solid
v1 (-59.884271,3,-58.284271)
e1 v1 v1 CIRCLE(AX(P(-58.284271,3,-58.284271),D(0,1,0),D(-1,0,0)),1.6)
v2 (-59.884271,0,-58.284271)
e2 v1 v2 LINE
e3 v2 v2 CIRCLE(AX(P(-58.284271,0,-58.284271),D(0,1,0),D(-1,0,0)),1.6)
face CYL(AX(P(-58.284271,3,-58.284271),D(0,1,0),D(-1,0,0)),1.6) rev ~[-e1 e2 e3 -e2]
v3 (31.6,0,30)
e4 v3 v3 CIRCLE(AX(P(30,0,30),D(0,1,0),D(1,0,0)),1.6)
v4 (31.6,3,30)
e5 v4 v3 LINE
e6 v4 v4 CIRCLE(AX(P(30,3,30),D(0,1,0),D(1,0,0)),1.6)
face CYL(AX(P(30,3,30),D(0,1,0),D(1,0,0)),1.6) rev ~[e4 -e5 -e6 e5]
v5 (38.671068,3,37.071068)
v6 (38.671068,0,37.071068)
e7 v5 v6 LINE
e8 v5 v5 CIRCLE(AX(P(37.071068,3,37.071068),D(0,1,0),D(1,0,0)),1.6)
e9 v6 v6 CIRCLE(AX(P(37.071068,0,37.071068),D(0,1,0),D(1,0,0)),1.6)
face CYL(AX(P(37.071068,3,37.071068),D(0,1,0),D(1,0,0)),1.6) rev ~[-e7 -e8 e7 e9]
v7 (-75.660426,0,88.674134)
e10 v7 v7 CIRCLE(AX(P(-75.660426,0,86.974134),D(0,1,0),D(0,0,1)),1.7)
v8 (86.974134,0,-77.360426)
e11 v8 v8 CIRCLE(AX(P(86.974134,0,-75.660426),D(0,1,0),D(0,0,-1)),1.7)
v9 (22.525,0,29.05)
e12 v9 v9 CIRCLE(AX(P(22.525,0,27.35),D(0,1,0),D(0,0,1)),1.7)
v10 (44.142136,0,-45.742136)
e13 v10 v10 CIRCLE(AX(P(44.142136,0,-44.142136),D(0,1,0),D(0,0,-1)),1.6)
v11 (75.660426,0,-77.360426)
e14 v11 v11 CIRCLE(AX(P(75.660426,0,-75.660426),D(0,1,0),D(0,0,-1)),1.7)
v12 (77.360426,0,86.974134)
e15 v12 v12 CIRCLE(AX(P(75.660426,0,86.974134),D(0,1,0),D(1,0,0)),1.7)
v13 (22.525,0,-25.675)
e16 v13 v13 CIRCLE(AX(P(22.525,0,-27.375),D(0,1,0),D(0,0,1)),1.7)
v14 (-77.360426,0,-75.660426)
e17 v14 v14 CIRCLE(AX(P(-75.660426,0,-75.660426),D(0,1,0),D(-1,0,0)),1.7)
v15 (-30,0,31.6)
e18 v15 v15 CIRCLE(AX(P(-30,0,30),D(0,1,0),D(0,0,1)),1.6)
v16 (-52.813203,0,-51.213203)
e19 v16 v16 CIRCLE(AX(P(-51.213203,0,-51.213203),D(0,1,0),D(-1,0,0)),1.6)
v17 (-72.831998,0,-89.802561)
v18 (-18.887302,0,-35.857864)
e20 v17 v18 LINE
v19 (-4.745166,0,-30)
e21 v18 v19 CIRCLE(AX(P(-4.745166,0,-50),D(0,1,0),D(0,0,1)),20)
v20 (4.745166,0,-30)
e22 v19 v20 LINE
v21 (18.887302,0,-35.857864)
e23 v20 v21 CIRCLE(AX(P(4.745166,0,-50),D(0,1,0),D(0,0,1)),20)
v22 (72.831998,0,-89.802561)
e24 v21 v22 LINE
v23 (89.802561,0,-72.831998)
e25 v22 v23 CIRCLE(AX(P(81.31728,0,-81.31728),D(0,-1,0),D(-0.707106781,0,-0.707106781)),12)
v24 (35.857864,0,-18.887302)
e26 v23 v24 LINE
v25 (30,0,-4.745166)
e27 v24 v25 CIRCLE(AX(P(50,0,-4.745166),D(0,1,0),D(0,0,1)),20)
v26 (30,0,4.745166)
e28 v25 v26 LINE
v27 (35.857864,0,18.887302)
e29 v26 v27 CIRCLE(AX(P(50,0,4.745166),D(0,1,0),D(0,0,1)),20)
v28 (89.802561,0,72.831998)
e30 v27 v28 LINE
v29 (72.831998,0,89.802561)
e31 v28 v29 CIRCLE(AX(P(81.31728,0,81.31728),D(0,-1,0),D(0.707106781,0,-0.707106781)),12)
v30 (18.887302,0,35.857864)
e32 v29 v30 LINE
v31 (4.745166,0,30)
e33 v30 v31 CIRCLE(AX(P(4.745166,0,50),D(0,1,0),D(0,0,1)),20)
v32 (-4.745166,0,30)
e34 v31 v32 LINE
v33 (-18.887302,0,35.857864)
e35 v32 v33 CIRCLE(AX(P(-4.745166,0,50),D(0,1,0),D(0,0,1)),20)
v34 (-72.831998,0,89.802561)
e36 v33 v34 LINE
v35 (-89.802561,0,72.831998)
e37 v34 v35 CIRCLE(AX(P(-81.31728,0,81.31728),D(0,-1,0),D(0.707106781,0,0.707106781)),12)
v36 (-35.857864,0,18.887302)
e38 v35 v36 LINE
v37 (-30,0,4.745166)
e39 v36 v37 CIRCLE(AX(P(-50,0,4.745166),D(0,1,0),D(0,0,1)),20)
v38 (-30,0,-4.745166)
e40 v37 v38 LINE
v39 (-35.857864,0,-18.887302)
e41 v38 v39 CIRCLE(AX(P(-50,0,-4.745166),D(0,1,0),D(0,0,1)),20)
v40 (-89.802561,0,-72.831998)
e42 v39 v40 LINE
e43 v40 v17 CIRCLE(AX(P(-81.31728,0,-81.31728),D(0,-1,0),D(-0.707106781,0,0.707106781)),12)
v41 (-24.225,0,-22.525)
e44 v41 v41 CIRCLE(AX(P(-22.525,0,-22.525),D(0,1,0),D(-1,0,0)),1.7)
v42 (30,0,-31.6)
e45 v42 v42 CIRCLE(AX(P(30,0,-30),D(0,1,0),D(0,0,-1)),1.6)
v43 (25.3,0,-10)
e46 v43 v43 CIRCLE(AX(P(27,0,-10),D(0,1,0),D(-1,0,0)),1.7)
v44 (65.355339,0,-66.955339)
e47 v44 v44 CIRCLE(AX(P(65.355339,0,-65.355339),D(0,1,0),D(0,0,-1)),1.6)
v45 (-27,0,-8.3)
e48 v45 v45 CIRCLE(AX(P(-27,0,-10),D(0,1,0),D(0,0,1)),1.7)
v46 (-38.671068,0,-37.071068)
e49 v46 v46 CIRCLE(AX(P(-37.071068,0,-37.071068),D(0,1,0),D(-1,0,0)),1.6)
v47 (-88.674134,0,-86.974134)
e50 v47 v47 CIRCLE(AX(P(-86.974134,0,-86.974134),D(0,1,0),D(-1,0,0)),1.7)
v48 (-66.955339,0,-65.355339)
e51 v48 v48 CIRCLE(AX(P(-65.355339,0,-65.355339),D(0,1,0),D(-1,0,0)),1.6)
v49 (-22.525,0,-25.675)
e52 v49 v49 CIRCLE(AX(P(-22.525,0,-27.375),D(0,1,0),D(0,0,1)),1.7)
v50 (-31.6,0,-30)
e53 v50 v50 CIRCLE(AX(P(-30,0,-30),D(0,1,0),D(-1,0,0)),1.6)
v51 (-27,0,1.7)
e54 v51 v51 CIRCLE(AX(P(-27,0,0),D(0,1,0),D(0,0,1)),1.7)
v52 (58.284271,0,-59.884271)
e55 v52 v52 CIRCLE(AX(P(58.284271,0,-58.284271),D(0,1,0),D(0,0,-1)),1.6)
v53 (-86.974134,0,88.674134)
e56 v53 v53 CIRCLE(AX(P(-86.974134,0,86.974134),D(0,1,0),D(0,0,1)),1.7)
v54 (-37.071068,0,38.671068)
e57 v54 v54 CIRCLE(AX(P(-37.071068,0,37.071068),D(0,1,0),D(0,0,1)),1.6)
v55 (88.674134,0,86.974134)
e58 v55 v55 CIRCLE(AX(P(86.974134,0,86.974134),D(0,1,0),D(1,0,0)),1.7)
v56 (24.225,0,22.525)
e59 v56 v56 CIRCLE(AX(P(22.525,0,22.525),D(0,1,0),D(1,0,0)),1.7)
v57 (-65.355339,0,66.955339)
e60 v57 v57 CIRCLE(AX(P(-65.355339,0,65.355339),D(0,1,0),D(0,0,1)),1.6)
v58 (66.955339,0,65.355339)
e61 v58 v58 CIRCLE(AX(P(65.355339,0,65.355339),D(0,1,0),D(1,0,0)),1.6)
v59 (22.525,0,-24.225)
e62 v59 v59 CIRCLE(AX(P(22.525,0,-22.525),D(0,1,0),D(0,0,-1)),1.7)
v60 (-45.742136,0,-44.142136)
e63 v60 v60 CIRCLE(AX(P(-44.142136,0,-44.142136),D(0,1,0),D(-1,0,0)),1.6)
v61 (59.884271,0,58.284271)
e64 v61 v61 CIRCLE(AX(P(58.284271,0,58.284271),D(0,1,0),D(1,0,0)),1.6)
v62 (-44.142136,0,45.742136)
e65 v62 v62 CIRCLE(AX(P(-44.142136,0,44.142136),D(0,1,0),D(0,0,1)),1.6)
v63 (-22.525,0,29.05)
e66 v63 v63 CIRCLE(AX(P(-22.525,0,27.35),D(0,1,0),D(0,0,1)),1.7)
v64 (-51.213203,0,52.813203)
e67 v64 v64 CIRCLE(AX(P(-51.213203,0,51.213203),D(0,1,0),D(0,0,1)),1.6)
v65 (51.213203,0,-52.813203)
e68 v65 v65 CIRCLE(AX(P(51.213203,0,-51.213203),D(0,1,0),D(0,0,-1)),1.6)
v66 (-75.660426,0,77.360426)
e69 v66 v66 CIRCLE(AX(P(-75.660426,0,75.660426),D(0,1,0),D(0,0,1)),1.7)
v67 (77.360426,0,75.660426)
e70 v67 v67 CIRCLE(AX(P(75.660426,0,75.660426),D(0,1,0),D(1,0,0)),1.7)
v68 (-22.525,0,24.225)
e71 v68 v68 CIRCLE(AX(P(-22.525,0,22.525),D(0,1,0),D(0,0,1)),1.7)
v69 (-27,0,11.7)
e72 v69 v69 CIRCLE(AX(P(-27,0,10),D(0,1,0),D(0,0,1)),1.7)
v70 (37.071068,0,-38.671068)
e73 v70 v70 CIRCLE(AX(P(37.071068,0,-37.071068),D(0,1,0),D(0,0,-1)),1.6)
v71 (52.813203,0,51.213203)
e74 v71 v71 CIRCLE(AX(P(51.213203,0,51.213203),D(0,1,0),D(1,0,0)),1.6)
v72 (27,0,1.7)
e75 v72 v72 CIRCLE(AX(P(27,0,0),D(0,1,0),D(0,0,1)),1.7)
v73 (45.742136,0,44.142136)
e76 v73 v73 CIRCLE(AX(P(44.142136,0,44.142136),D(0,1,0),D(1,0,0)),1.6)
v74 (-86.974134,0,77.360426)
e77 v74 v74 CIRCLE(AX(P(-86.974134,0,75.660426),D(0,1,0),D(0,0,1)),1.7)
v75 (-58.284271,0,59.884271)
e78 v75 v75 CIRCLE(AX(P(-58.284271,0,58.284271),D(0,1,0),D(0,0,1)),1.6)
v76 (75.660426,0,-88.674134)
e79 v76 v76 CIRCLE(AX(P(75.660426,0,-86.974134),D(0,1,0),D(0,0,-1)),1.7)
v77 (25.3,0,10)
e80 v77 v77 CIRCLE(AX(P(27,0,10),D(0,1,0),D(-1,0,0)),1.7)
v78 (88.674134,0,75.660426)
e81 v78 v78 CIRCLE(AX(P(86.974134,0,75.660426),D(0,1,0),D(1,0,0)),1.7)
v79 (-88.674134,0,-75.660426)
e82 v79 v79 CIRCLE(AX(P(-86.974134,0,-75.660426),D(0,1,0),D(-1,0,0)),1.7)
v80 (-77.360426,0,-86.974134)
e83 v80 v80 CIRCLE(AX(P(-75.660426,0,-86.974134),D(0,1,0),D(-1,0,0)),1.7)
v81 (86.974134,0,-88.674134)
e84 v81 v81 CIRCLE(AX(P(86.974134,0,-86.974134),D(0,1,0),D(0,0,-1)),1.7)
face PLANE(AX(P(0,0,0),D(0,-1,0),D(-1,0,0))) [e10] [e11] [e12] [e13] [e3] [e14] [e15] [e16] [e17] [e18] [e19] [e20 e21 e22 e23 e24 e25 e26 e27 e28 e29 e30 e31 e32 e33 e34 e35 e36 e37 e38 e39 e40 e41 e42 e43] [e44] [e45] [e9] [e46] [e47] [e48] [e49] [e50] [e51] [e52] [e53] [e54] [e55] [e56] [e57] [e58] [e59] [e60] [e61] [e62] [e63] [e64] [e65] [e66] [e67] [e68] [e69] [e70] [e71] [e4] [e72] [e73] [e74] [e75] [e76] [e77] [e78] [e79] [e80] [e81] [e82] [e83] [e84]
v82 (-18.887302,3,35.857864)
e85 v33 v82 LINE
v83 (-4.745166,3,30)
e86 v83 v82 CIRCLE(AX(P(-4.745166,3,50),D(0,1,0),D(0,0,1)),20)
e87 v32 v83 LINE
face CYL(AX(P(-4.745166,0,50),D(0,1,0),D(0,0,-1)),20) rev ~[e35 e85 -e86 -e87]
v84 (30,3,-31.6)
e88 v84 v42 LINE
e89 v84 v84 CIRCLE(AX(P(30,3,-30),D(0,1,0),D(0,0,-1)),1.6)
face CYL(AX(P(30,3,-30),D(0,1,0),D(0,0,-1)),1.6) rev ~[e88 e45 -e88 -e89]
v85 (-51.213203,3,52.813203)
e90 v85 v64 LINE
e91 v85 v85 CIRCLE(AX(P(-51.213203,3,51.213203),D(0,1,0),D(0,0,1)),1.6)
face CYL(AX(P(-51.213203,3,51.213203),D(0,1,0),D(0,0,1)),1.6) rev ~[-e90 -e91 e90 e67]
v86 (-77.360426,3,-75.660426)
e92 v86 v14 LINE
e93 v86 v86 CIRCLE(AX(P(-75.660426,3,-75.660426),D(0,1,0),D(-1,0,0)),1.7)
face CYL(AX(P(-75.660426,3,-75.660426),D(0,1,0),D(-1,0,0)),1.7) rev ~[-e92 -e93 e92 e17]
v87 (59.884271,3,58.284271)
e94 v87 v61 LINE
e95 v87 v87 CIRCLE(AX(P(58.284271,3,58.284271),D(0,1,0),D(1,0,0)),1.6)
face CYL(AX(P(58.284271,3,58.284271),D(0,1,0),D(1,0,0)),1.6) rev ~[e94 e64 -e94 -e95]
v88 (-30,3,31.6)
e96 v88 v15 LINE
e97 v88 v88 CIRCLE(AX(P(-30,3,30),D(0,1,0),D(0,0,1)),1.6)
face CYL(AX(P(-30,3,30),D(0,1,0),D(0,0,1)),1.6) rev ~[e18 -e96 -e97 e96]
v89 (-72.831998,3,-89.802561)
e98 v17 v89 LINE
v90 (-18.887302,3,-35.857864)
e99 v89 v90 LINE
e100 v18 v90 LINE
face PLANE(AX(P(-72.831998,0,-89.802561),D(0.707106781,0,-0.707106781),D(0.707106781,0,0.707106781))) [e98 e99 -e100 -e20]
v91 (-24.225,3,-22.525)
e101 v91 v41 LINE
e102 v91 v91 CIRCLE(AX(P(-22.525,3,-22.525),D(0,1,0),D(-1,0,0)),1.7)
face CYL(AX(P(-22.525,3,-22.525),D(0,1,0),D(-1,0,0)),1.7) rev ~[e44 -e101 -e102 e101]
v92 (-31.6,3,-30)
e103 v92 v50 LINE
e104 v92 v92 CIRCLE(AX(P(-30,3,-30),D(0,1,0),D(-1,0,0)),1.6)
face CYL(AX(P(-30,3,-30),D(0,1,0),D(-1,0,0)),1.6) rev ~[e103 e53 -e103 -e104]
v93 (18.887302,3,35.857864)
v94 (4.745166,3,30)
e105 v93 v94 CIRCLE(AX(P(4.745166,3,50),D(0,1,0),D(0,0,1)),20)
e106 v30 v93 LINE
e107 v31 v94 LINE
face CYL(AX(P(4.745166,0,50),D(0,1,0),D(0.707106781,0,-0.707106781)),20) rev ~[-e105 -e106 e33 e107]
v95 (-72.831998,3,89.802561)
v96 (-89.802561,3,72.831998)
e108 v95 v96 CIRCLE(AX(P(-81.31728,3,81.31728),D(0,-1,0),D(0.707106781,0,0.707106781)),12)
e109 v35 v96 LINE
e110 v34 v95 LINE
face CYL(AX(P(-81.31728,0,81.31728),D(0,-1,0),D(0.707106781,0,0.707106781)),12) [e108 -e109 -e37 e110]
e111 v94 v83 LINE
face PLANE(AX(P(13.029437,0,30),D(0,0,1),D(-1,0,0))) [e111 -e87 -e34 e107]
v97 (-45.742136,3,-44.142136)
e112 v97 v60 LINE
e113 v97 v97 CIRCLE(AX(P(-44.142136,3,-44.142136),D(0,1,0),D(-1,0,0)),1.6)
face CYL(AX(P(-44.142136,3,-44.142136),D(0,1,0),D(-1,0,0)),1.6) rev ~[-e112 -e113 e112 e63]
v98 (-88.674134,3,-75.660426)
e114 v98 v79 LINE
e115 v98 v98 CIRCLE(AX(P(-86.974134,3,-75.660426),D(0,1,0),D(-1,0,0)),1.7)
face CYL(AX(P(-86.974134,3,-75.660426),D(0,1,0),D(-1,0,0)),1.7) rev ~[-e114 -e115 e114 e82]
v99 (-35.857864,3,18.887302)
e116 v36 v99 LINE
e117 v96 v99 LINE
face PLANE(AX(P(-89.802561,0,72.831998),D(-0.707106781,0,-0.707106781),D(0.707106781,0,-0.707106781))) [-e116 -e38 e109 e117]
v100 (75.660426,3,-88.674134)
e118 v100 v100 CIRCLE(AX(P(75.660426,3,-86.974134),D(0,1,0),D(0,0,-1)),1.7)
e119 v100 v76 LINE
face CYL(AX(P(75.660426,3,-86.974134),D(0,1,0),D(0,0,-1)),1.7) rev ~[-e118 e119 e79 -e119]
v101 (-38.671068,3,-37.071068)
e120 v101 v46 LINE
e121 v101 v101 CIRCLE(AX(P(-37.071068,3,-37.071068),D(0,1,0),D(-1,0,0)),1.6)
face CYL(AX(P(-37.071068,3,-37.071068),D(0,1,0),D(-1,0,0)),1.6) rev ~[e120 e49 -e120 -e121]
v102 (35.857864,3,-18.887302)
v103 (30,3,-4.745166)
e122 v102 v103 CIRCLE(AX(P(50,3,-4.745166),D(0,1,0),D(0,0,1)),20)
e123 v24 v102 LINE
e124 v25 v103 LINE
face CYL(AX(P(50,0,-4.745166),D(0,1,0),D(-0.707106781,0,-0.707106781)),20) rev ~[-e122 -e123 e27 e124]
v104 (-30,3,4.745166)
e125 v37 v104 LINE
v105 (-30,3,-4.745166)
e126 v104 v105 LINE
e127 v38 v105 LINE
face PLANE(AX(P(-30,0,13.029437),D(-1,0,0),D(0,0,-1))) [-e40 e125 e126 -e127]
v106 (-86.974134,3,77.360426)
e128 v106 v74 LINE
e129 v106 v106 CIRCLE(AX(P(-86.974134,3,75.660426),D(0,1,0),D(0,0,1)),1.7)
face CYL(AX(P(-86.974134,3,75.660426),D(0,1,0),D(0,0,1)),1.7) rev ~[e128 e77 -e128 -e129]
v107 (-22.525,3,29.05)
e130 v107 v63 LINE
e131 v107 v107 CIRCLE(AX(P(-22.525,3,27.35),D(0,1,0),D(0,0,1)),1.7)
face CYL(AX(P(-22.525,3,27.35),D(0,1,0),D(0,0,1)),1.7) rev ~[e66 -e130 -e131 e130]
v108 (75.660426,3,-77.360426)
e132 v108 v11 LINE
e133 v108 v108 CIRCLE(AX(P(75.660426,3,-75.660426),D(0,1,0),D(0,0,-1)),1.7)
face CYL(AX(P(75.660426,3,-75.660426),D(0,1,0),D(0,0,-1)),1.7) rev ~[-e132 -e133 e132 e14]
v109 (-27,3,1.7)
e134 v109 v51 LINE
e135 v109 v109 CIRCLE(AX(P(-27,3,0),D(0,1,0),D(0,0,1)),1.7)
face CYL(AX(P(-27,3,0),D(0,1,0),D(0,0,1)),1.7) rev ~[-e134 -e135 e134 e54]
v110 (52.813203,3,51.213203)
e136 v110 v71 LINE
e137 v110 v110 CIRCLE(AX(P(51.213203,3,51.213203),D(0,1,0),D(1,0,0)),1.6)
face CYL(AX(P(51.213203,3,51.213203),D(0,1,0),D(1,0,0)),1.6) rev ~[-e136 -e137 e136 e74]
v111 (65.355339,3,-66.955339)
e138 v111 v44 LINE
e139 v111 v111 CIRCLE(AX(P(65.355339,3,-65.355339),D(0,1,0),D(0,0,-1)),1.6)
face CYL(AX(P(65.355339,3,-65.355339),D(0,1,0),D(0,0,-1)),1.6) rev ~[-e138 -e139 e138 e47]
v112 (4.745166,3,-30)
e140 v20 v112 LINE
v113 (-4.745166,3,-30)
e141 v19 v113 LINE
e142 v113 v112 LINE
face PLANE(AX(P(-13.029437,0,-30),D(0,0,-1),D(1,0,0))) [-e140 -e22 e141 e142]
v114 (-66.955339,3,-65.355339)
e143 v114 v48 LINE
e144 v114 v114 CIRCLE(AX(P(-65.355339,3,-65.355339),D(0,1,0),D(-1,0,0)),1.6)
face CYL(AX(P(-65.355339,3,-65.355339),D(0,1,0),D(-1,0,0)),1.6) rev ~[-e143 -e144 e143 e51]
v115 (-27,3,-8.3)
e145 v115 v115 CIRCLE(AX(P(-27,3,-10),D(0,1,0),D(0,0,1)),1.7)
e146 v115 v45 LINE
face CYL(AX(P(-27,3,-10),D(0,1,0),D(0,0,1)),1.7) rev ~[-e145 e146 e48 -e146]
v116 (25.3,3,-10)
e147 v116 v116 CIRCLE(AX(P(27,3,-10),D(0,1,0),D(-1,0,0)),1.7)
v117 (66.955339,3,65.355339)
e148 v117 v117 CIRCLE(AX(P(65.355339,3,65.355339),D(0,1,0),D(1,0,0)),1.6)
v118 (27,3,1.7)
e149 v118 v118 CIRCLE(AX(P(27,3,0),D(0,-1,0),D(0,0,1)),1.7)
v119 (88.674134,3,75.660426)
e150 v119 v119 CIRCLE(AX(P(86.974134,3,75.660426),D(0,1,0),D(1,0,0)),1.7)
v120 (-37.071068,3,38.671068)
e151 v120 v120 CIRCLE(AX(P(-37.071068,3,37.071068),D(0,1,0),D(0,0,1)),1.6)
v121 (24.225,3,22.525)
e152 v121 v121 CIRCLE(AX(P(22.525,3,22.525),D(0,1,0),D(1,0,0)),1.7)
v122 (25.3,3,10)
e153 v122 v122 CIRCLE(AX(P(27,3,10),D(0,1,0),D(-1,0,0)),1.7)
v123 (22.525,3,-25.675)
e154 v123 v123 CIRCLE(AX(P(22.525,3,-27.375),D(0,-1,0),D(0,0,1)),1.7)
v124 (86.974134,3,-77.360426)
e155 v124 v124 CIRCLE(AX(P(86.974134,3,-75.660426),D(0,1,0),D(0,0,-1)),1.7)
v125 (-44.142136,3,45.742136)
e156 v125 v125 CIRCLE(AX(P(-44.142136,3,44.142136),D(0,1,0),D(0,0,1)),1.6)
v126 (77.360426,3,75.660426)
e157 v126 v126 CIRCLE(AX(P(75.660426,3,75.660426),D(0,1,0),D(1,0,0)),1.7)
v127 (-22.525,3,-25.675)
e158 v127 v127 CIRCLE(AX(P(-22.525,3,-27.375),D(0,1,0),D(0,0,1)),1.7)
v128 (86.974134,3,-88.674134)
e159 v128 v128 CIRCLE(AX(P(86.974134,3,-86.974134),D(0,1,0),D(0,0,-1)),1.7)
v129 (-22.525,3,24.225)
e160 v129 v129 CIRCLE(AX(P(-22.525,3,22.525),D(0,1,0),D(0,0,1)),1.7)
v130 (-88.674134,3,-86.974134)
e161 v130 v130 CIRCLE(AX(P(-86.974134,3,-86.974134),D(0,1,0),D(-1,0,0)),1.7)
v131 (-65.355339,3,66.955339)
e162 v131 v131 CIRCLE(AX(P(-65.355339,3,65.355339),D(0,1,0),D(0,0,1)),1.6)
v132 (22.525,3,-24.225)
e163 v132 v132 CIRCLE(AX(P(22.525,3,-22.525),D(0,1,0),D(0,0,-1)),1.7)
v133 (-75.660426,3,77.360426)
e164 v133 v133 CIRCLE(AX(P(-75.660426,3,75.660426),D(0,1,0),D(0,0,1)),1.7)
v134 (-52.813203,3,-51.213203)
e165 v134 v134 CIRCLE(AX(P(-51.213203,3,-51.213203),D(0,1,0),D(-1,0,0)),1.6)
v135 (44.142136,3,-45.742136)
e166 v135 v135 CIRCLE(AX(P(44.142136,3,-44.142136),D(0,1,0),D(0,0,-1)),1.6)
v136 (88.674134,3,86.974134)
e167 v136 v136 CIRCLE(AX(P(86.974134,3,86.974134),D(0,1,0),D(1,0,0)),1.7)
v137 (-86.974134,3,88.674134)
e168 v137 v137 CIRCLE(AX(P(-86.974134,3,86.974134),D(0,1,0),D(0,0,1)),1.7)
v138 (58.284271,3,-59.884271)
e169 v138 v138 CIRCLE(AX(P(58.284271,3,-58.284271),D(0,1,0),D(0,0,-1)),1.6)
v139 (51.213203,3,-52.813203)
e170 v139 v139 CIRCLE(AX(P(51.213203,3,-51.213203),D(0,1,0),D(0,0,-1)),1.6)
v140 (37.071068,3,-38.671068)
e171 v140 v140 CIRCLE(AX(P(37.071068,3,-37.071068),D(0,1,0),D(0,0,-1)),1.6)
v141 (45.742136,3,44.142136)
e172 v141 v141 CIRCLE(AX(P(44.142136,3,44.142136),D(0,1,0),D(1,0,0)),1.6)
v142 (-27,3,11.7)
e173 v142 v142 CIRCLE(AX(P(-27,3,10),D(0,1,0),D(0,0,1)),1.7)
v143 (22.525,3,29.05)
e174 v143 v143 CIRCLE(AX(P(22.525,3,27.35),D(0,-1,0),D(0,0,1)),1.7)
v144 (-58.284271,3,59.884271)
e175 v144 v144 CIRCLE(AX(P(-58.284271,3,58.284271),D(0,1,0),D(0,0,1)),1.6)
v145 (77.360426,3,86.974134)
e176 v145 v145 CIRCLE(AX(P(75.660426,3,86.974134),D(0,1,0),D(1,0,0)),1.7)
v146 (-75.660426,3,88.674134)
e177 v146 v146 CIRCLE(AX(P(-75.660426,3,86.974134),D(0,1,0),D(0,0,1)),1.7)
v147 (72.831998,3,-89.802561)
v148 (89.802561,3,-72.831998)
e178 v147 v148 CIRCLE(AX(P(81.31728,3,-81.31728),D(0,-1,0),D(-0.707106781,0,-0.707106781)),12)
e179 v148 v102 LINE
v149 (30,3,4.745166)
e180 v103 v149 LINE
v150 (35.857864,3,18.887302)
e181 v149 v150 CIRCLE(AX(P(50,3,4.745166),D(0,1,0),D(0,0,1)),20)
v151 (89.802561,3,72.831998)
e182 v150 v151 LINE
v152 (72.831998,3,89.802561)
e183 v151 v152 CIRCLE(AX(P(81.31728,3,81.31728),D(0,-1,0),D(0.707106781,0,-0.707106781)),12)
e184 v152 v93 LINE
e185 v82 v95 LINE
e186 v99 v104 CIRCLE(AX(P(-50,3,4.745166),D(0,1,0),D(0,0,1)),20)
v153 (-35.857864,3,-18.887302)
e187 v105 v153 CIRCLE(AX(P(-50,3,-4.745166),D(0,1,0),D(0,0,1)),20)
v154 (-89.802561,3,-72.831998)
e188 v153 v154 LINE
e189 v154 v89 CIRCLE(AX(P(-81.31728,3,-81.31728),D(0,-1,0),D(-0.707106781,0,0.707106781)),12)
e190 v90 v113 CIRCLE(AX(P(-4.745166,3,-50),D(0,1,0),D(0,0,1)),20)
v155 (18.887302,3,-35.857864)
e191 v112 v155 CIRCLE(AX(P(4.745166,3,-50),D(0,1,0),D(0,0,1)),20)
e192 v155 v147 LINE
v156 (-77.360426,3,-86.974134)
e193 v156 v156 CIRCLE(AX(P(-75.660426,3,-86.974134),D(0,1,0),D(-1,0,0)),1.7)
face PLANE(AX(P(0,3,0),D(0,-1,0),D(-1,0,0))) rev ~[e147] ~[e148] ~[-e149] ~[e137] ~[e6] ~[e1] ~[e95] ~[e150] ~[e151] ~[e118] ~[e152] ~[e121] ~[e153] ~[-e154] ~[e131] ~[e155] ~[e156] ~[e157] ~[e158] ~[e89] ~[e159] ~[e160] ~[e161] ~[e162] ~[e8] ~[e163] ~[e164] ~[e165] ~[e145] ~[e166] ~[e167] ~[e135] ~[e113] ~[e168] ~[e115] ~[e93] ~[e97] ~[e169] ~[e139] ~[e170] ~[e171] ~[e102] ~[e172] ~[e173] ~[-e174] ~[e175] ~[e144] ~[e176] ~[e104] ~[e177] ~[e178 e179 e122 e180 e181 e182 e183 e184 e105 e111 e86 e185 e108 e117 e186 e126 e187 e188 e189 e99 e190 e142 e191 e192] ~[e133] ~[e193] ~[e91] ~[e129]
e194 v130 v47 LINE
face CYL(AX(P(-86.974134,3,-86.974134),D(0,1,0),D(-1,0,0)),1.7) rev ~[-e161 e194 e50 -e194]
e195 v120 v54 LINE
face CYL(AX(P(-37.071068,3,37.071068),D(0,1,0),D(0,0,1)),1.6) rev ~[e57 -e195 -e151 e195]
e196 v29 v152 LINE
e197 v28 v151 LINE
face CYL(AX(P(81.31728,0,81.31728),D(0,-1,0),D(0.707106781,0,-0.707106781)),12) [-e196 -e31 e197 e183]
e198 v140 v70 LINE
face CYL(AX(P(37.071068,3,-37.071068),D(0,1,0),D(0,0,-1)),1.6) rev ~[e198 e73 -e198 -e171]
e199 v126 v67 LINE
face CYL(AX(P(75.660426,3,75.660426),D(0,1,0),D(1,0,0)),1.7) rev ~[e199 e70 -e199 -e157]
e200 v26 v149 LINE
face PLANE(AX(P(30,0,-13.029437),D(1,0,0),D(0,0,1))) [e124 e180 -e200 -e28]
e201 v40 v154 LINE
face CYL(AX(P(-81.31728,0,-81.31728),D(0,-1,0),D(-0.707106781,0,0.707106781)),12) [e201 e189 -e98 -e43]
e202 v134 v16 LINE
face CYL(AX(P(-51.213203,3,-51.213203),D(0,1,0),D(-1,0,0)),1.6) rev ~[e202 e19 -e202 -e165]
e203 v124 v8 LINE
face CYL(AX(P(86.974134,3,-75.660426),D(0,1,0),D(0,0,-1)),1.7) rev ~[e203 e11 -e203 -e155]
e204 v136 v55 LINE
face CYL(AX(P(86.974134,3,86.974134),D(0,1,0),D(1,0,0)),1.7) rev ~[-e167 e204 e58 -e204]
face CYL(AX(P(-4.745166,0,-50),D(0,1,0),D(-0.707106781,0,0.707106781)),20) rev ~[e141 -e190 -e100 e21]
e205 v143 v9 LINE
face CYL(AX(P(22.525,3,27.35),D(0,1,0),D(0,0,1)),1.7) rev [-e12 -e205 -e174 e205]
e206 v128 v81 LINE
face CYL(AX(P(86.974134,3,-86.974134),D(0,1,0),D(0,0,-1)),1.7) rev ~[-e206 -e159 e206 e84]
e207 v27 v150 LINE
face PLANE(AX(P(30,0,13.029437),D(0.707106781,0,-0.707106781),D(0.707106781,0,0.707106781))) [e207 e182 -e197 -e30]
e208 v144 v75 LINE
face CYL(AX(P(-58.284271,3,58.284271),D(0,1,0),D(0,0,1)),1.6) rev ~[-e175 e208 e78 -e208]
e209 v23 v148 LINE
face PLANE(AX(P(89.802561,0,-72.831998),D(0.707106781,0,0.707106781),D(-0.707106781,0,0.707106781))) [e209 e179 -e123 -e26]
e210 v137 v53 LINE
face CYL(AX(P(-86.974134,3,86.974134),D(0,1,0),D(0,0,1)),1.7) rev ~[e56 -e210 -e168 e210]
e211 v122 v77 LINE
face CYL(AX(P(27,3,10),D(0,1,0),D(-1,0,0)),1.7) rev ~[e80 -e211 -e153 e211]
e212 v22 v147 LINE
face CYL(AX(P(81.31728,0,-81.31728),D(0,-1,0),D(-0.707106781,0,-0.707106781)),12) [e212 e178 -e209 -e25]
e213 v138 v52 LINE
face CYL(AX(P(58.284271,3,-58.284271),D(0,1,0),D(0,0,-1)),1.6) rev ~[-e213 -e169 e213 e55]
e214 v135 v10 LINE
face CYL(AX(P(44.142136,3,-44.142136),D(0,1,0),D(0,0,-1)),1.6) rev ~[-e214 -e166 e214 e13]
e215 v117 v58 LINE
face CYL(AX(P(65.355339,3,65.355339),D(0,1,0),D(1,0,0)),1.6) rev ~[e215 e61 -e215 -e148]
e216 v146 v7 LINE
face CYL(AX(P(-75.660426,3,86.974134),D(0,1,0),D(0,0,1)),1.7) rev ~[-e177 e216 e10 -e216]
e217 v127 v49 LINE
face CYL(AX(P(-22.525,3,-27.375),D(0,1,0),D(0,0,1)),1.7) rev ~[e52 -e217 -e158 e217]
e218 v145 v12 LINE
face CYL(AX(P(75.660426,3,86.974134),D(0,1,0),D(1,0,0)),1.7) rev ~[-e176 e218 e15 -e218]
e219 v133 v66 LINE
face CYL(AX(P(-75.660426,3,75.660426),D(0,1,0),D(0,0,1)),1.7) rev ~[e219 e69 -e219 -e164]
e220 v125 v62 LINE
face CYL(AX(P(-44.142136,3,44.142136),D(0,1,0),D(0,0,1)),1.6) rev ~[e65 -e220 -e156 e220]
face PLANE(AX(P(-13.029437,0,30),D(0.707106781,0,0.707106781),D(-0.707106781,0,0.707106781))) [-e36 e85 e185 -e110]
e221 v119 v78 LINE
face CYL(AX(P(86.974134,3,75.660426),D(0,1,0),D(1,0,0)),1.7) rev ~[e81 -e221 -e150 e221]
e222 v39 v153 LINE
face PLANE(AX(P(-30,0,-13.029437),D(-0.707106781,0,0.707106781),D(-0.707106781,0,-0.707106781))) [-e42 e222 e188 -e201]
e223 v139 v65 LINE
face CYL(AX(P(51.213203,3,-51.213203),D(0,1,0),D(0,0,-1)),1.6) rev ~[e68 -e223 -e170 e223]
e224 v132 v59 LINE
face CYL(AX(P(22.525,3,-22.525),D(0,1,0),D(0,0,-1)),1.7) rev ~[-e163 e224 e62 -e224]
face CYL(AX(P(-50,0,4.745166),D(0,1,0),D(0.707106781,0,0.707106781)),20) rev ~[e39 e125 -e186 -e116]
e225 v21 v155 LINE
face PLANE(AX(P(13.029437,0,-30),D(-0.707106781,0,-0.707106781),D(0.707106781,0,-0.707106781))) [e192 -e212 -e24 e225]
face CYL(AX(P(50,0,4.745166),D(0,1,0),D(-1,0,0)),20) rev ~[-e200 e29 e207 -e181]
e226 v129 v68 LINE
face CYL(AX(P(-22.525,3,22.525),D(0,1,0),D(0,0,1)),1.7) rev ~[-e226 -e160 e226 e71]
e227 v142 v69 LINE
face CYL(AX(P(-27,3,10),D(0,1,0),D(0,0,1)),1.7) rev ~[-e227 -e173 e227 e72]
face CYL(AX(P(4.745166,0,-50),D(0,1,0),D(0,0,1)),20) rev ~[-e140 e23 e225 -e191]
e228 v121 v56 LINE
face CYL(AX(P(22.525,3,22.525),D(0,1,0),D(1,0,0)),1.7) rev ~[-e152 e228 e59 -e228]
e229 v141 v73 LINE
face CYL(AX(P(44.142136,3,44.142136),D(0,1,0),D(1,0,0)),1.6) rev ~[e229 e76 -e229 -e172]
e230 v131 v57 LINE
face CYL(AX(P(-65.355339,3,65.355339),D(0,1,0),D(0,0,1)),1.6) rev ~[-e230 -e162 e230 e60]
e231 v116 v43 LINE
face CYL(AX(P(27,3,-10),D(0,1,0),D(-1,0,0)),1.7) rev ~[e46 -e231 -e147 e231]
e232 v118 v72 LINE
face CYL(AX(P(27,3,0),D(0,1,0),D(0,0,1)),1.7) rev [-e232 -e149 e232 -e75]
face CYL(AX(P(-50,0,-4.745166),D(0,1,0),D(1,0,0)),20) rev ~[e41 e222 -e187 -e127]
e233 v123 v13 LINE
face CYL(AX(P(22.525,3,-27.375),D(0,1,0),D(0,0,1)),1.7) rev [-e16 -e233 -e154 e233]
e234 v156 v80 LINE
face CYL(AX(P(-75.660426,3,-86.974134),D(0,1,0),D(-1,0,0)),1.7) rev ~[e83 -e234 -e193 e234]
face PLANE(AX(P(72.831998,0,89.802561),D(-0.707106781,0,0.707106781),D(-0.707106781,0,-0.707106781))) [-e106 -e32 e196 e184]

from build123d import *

# Parameters (mm, degrees)
BOSS_EXTRUDE1_DEPTH          = 3
FILLET1_R                    = 20
SKETCH2_R                    = 1.7
CUT_EXTRUDE1_DEPTH           = 133.004656858
CIRPATTERN1_COUNT            = 4
SKETCH3_R                    = 1.6
CUT_EXTRUDE2_DEPTH           = 133.004656858
LPATTERN1_COUNT              = 6
LPATTERN1_PITCH              = 10
CIRPATTERN2_COUNT            = 4
CIRPATTERN2_COPY_1_SKETCH_R  = 1.6
CIRPATTERN2_COPY_1_DEPTH     = 133.004656858
CIRPATTERN2_COPY_2_SKETCH_R  = 1.6
CIRPATTERN2_COPY_2_DEPTH     = 133.004656858
CIRPATTERN2_COPY_3_SKETCH_R  = 1.6
CIRPATTERN2_COPY_3_DEPTH     = 133.004656858
CIRPATTERN2_COPY_4_SKETCH_R  = 1.6
CIRPATTERN2_COPY_4_DEPTH     = 133.004656858
CIRPATTERN2_COPY_5_SKETCH_R  = 1.6
CIRPATTERN2_COPY_5_DEPTH     = 133.004656858
CIRPATTERN2_COPY_6_SKETCH_R  = 1.6
CIRPATTERN2_COPY_6_DEPTH     = 133.004656858
CIRPATTERN2_COPY_7_SKETCH_R  = 1.6
CIRPATTERN2_COPY_7_DEPTH     = 133.004656858
CIRPATTERN2_COPY_8_SKETCH_R  = 1.6
CIRPATTERN2_COPY_8_DEPTH     = 133.004656858
CIRPATTERN2_COPY_9_SKETCH_R  = 1.6
CIRPATTERN2_COPY_9_DEPTH     = 133.004656858
CIRPATTERN2_COPY_10_SKETCH_R = 1.6
CIRPATTERN2_COPY_10_DEPTH    = 133.004656858
CIRPATTERN2_COPY_11_SKETCH_R = 1.6
CIRPATTERN2_COPY_11_DEPTH    = 133.004656858
CIRPATTERN2_COPY_12_SKETCH_R = 1.6
CIRPATTERN2_COPY_12_DEPTH    = 133.004656858
CIRPATTERN2_COPY_13_SKETCH_R = 1.6
CIRPATTERN2_COPY_13_DEPTH    = 133.004656858
CIRPATTERN2_COPY_14_SKETCH_R = 1.6
CIRPATTERN2_COPY_14_DEPTH    = 133.004656858
CIRPATTERN2_COPY_15_SKETCH_R = 1.6
CIRPATTERN2_COPY_15_DEPTH    = 133.004656858
SKETCH4_R                    = 1.7
CUT_EXTRUDE3_DEPTH           = 133.004656858
CIRPATTERN3_COUNT            = 4
SKETCH5_R                    = 1.7
CUT_EXTRUDE4_DEPTH           = 133.004656858
SKETCH7_R                    = 1.7
CUT_EXTRUDE5_DEPTH           = 133.004656858
LPATTERN2_COUNT              = 2
LPATTERN2_PITCH              = 10
LPATTERN2_COL_COUNT          = 2
LPATTERN2_COL_PITCH          = 10
MIRROR2_COPY_1_SKETCH_R      = 1.7
MIRROR2_COPY_1_DEPTH         = 133.004656858
MIRROR2_COPY_2_SKETCH_R      = 1.7
MIRROR2_COPY_2_DEPTH         = 133.004656858


with BuildPart() as part:
    # Sketch1 → Boss-Extrude1 (new body)
    with BuildSketch(Plane(origin=(0, 0, 0), x_dir=(1, 0, 0), z_dir=(0, 1, 0))):
        with BuildLine():
            Line((-72.831998462, 89.802561211), (-13.029437252, 30))
            Line((-13.029437252, 30), (13.029437252, 30))
            Line((13.029437252, 30), (72.831998462, 89.802561211))
            ThreePointArc((72.831998462, 89.802561211), (89.802561211, 89.802561211), (89.802561211, 72.831998462))
            Line((89.802561211, 72.831998462), (30, 13.029437252))
            Line((30, 13.029437252), (30, -13.029437252))
            Line((30, -13.029437252), (89.802561211, -72.831998462))
            ThreePointArc((89.802561211, -72.831998462), (89.802561211, -89.802561211), (72.831998462, -89.802561211))
            Line((72.831998462, -89.802561211), (13.029437252, -30))
            Line((13.029437252, -30), (-13.029437252, -30))
            Line((-13.029437252, -30), (-72.831998462, -89.802561211))
            ThreePointArc((-72.831998462, -89.802561211), (-89.802561211, -89.802561211), (-89.802561211, -72.831998462))
            Line((-89.802561211, -72.831998462), (-30, -13.029437252))
            Line((-30, -13.029437252), (-30, 13.029437252))
            Line((-30, 13.029437252), (-89.802561211, 72.831998462))
            ThreePointArc((-89.802561211, 72.831998462), (-89.802561211, 89.802561211), (-72.831998462, 89.802561211))
        make_face()
    extrude(amount=BOSS_EXTRUDE1_DEPTH)

    # Fillet1
    fillet1_edges = [part.edges().sort_by_distance(p)[0] for p in [
        (-13.029437252, 1.5, -30),
        (13.029437252, 1.5, -30),
        (30, 1.5, -13.029437252),
        (30, 1.5, 13.029437252),
        (13.029437252, 1.5, 30),
        (-13.029437252, 1.5, 30),
        (-30, 1.5, 13.029437252),
        (-30, 1.5, -13.029437252),
    ]]
    fillet(fillet1_edges, radius=FILLET1_R)

    # Sketch2 → Cut-Extrude1 (cut, through all)
    with BuildSketch(Plane(origin=(0, 3, 0), x_dir=(1, 0, 0), z_dir=(0, 1, 0))):
        with Locations(Location((-22.525, -22.525, 0), (0, 0, 270))):
            Circle(SKETCH2_R)
    cut_extrude1 = extrude(amount=-CUT_EXTRUDE1_DEPTH, mode=Mode.SUBTRACT)

    # CirPattern1: Cut-Extrude1 ×4 about axis
    cirpattern1_axis = Axis((0, 0, 0), (0, 1, 0))
    for i in range(1, CIRPATTERN1_COUNT):
        add(cut_extrude1.rotate(cirpattern1_axis, i * 360 / CIRPATTERN1_COUNT), mode=Mode.SUBTRACT)

    # Sketch3 → Cut-Extrude2 (cut, through all)
    with BuildSketch(Plane(origin=(0, 3, 0), x_dir=(1, 0, 0), z_dir=(0, 1, 0))):
        with Locations(Location((-30, -30, 0), (0, 0, 270))):
            Circle(SKETCH3_R)
    cut_extrude2 = extrude(amount=-CUT_EXTRUDE2_DEPTH, mode=Mode.SUBTRACT)

    # LPattern1: Cut-Extrude2 ×6
    with Locations(*[Vector(-0.7071067811865467, 0, 0.7071067811865485) * (i * LPATTERN1_PITCH) for i in range(1, LPATTERN1_COUNT)]):
        add(cut_extrude2, mode=Mode.SUBTRACT)

    # CirPattern2: Cut-Extrude2 ×4 about axis
    cirpattern2_axis = Axis((0, 6.3, 0), (0, -1, 0))
    for i in range(1, CIRPATTERN2_COUNT):
        add(cut_extrude2.rotate(cirpattern2_axis, i * 360 / CIRPATTERN2_COUNT), mode=Mode.SUBTRACT)

    # CirPattern2 copy 1 sketch → CirPattern2 copy 1 (cut, through all)
    with BuildSketch(Plane(origin=(-7.071067812, 3, -7.071067812), x_dir=(0, 0, 1), z_dir=(0, 1, 0))):
        with Locations(Location((-30, -30, 0), (0, 0, 270))):
            Circle(CIRPATTERN2_COPY_1_SKETCH_R)
    extrude(amount=-CIRPATTERN2_COPY_1_DEPTH, mode=Mode.SUBTRACT)

    # CirPattern2 copy 2 sketch → CirPattern2 copy 2 (cut, through all)
    with BuildSketch(Plane(origin=(7.071067812, 3, -7.071067812), x_dir=(-1, 0, 0), z_dir=(0, 1, 0))):
        with Locations(Location((-30, -30, 0), (0, 0, 270))):
            Circle(CIRPATTERN2_COPY_2_SKETCH_R)
    extrude(amount=-CIRPATTERN2_COPY_2_DEPTH, mode=Mode.SUBTRACT)

    # CirPattern2 copy 3 sketch → CirPattern2 copy 3 (cut, through all)
    with BuildSketch(Plane(origin=(7.071067812, 3, 7.071067812), x_dir=(0, 0, -1), z_dir=(0, 1, 0))):
        with Locations(Location((-30, -30, 0), (0, 0, 270))):
            Circle(CIRPATTERN2_COPY_3_SKETCH_R)
    extrude(amount=-CIRPATTERN2_COPY_3_DEPTH, mode=Mode.SUBTRACT)

    # CirPattern2 copy 4 sketch → CirPattern2 copy 4 (cut, through all)
    with BuildSketch(Plane(origin=(-14.142135624, 3, -14.142135624), x_dir=(0, 0, 1), z_dir=(0, 1, 0))):
        with Locations(Location((-30, -30, 0), (0, 0, 270))):
            Circle(CIRPATTERN2_COPY_4_SKETCH_R)
    extrude(amount=-CIRPATTERN2_COPY_4_DEPTH, mode=Mode.SUBTRACT)

    # CirPattern2 copy 5 sketch → CirPattern2 copy 5 (cut, through all)
    with BuildSketch(Plane(origin=(14.142135624, 3, -14.142135624), x_dir=(-1, 0, 0), z_dir=(0, 1, 0))):
        with Locations(Location((-30, -30, 0), (0, 0, 270))):
            Circle(CIRPATTERN2_COPY_5_SKETCH_R)
    extrude(amount=-CIRPATTERN2_COPY_5_DEPTH, mode=Mode.SUBTRACT)

    # CirPattern2 copy 6 sketch → CirPattern2 copy 6 (cut, through all)
    with BuildSketch(Plane(origin=(14.142135624, 3, 14.142135624), x_dir=(0, 0, -1), z_dir=(0, 1, 0))):
        with Locations(Location((-30, -30, 0), (0, 0, 270))):
            Circle(CIRPATTERN2_COPY_6_SKETCH_R)
    extrude(amount=-CIRPATTERN2_COPY_6_DEPTH, mode=Mode.SUBTRACT)

    # CirPattern2 copy 7 sketch → CirPattern2 copy 7 (cut, through all)
    with BuildSketch(Plane(origin=(-21.213203436, 3, -21.213203436), x_dir=(0, 0, 1), z_dir=(0, 1, 0))):
        with Locations(Location((-30, -30, 0), (0, 0, 270))):
            Circle(CIRPATTERN2_COPY_7_SKETCH_R)
    extrude(amount=-CIRPATTERN2_COPY_7_DEPTH, mode=Mode.SUBTRACT)

    # CirPattern2 copy 8 sketch → CirPattern2 copy 8 (cut, through all)
    with BuildSketch(Plane(origin=(21.213203436, 3, -21.213203436), x_dir=(-1, 0, 0), z_dir=(0, 1, 0))):
        with Locations(Location((-30, -30, 0), (0, 0, 270))):
            Circle(CIRPATTERN2_COPY_8_SKETCH_R)
    extrude(amount=-CIRPATTERN2_COPY_8_DEPTH, mode=Mode.SUBTRACT)

    # CirPattern2 copy 9 sketch → CirPattern2 copy 9 (cut, through all)
    with BuildSketch(Plane(origin=(21.213203436, 3, 21.213203436), x_dir=(0, 0, -1), z_dir=(0, 1, 0))):
        with Locations(Location((-30, -30, 0), (0, 0, 270))):
            Circle(CIRPATTERN2_COPY_9_SKETCH_R)
    extrude(amount=-CIRPATTERN2_COPY_9_DEPTH, mode=Mode.SUBTRACT)

    # CirPattern2 copy 10 sketch → CirPattern2 copy 10 (cut, through all)
    with BuildSketch(Plane(origin=(-28.284271247, 3, -28.284271247), x_dir=(0, 0, 1), z_dir=(0, 1, 0))):
        with Locations(Location((-30, -30, 0), (0, 0, 270))):
            Circle(CIRPATTERN2_COPY_10_SKETCH_R)
    extrude(amount=-CIRPATTERN2_COPY_10_DEPTH, mode=Mode.SUBTRACT)

    # CirPattern2 copy 11 sketch → CirPattern2 copy 11 (cut, through all)
    with BuildSketch(Plane(origin=(28.284271247, 3, -28.284271247), x_dir=(-1, 0, 0), z_dir=(0, 1, 0))):
        with Locations(Location((-30, -30, 0), (0, 0, 270))):
            Circle(CIRPATTERN2_COPY_11_SKETCH_R)
    extrude(amount=-CIRPATTERN2_COPY_11_DEPTH, mode=Mode.SUBTRACT)

    # CirPattern2 copy 12 sketch → CirPattern2 copy 12 (cut, through all)
    with BuildSketch(Plane(origin=(28.284271247, 3, 28.284271247), x_dir=(0, 0, -1), z_dir=(0, 1, 0))):
        with Locations(Location((-30, -30, 0), (0, 0, 270))):
            Circle(CIRPATTERN2_COPY_12_SKETCH_R)
    extrude(amount=-CIRPATTERN2_COPY_12_DEPTH, mode=Mode.SUBTRACT)

    # CirPattern2 copy 13 sketch → CirPattern2 copy 13 (cut, through all)
    with BuildSketch(Plane(origin=(-35.355339059, 3, -35.355339059), x_dir=(0, 0, 1), z_dir=(0, 1, 0))):
        with Locations(Location((-30, -30, 0), (0, 0, 270))):
            Circle(CIRPATTERN2_COPY_13_SKETCH_R)
    extrude(amount=-CIRPATTERN2_COPY_13_DEPTH, mode=Mode.SUBTRACT)

    # CirPattern2 copy 14 sketch → CirPattern2 copy 14 (cut, through all)
    with BuildSketch(Plane(origin=(35.355339059, 3, -35.355339059), x_dir=(-1, 0, 0), z_dir=(0, 1, 0))):
        with Locations(Location((-30, -30, 0), (0, 0, 270))):
            Circle(CIRPATTERN2_COPY_14_SKETCH_R)
    extrude(amount=-CIRPATTERN2_COPY_14_DEPTH, mode=Mode.SUBTRACT)

    # CirPattern2 copy 15 sketch → CirPattern2 copy 15 (cut, through all)
    with BuildSketch(Plane(origin=(35.355339059, 3, 35.355339059), x_dir=(0, 0, -1), z_dir=(0, 1, 0))):
        with Locations(Location((-30, -30, 0), (0, 0, 270))):
            Circle(CIRPATTERN2_COPY_15_SKETCH_R)
    extrude(amount=-CIRPATTERN2_COPY_15_DEPTH, mode=Mode.SUBTRACT)

    # Sketch4 → Cut-Extrude3 (cut, through all)
    with BuildSketch(Plane(origin=(0, 3, 0), x_dir=(1, 0, 0), z_dir=(0, 1, 0))):
        with Locations(Location((-86.974134086, -86.974134086, 0), (0, 0, 270))):
            Circle(SKETCH4_R)
        with Locations(Location((-86.974134086, -75.660425587, 0), (0, 0, 270))):
            Circle(SKETCH4_R)
        with Locations(Location((-75.660425587, -75.660425587, 0), (0, 0, 270))):
            Circle(SKETCH4_R)
        with Locations(Location((-75.660425587, -86.974134086, 0), (0, 0, 270))):
            Circle(SKETCH4_R)
    cut_extrude3 = extrude(amount=-CUT_EXTRUDE3_DEPTH, mode=Mode.SUBTRACT)

    # CirPattern3: Cut-Extrude3 ×4 about axis
    cirpattern3_axis = Axis((0, 0, 0), (0, 1, 0))
    for i in range(1, CIRPATTERN3_COUNT):
        add(cut_extrude3.rotate(cirpattern3_axis, i * 360 / CIRPATTERN3_COUNT), mode=Mode.SUBTRACT)

    # Sketch5 → Cut-Extrude4 (cut, through all)
    with BuildSketch(Plane(origin=(0, 3, 0), x_dir=(1, 0, 0), z_dir=(0, 1, 0))):
        with Locations(Location((-22.525, 27.375, 0), (0, 0, 270))):
            Circle(SKETCH5_R)
        with Locations(Location((-22.525, -27.35, 0), (0, 0, 270))):
            Circle(SKETCH5_R)
    cut_extrude4 = extrude(amount=-CUT_EXTRUDE4_DEPTH, mode=Mode.SUBTRACT)

    # Mirror1: Cut-Extrude4 across plane
    add(cut_extrude4.mirror(Plane(origin=(0, 0, 0), x_dir=(0, 0, 1), z_dir=(1, 0, 0))), mode=Mode.SUBTRACT)

    # Sketch7 → Cut-Extrude5 (cut, through all)
    with BuildSketch(Plane(origin=(0, 3, 0), x_dir=(1, 0, 0), z_dir=(0, 1, 0))):
        with Locations(Location((-27, 0, 0), (0, 0, 270))):
            Circle(SKETCH7_R)
    cut_extrude5 = extrude(amount=-CUT_EXTRUDE5_DEPTH, mode=Mode.SUBTRACT)

    # LPattern2: Cut-Extrude5 ×2
    with Locations(*[(0, 0, i * LPATTERN2_PITCH) for i in range(1, LPATTERN2_COUNT)]):
        add(cut_extrude5, mode=Mode.SUBTRACT)

    # LPattern2 col: Cut-Extrude5 ×2
    with Locations(*[(0, 0, -i * LPATTERN2_COL_PITCH) for i in range(1, LPATTERN2_COL_COUNT)]):
        add(cut_extrude5, mode=Mode.SUBTRACT)

    # Mirror2: Cut-Extrude5 across plane
    add(cut_extrude5.mirror(Plane(origin=(0, 0, 0), x_dir=(0, 0, 1), z_dir=(1, 0, 0))), mode=Mode.SUBTRACT)

    # Mirror2 copy 1 sketch → Mirror2 copy 1 (cut, through all)
    with BuildSketch(Plane(origin=(0, 3, 10), x_dir=(-1, 0, 0), z_dir=(0, 1, 0))):
        with Locations((-27, 0)):
            Circle(MIRROR2_COPY_1_SKETCH_R)
    extrude(amount=-MIRROR2_COPY_1_DEPTH, mode=Mode.SUBTRACT)

    # Mirror2 copy 2 sketch → Mirror2 copy 2 (cut, through all)
    with BuildSketch(Plane(origin=(0, 3, -10), x_dir=(-1, 0, 0), z_dir=(0, 1, 0))):
        with Locations((-27, 0)):
            Circle(MIRROR2_COPY_2_SKETCH_R)
    extrude(amount=-MIRROR2_COPY_2_DEPTH, mode=Mode.SUBTRACT)


solid = part.part
